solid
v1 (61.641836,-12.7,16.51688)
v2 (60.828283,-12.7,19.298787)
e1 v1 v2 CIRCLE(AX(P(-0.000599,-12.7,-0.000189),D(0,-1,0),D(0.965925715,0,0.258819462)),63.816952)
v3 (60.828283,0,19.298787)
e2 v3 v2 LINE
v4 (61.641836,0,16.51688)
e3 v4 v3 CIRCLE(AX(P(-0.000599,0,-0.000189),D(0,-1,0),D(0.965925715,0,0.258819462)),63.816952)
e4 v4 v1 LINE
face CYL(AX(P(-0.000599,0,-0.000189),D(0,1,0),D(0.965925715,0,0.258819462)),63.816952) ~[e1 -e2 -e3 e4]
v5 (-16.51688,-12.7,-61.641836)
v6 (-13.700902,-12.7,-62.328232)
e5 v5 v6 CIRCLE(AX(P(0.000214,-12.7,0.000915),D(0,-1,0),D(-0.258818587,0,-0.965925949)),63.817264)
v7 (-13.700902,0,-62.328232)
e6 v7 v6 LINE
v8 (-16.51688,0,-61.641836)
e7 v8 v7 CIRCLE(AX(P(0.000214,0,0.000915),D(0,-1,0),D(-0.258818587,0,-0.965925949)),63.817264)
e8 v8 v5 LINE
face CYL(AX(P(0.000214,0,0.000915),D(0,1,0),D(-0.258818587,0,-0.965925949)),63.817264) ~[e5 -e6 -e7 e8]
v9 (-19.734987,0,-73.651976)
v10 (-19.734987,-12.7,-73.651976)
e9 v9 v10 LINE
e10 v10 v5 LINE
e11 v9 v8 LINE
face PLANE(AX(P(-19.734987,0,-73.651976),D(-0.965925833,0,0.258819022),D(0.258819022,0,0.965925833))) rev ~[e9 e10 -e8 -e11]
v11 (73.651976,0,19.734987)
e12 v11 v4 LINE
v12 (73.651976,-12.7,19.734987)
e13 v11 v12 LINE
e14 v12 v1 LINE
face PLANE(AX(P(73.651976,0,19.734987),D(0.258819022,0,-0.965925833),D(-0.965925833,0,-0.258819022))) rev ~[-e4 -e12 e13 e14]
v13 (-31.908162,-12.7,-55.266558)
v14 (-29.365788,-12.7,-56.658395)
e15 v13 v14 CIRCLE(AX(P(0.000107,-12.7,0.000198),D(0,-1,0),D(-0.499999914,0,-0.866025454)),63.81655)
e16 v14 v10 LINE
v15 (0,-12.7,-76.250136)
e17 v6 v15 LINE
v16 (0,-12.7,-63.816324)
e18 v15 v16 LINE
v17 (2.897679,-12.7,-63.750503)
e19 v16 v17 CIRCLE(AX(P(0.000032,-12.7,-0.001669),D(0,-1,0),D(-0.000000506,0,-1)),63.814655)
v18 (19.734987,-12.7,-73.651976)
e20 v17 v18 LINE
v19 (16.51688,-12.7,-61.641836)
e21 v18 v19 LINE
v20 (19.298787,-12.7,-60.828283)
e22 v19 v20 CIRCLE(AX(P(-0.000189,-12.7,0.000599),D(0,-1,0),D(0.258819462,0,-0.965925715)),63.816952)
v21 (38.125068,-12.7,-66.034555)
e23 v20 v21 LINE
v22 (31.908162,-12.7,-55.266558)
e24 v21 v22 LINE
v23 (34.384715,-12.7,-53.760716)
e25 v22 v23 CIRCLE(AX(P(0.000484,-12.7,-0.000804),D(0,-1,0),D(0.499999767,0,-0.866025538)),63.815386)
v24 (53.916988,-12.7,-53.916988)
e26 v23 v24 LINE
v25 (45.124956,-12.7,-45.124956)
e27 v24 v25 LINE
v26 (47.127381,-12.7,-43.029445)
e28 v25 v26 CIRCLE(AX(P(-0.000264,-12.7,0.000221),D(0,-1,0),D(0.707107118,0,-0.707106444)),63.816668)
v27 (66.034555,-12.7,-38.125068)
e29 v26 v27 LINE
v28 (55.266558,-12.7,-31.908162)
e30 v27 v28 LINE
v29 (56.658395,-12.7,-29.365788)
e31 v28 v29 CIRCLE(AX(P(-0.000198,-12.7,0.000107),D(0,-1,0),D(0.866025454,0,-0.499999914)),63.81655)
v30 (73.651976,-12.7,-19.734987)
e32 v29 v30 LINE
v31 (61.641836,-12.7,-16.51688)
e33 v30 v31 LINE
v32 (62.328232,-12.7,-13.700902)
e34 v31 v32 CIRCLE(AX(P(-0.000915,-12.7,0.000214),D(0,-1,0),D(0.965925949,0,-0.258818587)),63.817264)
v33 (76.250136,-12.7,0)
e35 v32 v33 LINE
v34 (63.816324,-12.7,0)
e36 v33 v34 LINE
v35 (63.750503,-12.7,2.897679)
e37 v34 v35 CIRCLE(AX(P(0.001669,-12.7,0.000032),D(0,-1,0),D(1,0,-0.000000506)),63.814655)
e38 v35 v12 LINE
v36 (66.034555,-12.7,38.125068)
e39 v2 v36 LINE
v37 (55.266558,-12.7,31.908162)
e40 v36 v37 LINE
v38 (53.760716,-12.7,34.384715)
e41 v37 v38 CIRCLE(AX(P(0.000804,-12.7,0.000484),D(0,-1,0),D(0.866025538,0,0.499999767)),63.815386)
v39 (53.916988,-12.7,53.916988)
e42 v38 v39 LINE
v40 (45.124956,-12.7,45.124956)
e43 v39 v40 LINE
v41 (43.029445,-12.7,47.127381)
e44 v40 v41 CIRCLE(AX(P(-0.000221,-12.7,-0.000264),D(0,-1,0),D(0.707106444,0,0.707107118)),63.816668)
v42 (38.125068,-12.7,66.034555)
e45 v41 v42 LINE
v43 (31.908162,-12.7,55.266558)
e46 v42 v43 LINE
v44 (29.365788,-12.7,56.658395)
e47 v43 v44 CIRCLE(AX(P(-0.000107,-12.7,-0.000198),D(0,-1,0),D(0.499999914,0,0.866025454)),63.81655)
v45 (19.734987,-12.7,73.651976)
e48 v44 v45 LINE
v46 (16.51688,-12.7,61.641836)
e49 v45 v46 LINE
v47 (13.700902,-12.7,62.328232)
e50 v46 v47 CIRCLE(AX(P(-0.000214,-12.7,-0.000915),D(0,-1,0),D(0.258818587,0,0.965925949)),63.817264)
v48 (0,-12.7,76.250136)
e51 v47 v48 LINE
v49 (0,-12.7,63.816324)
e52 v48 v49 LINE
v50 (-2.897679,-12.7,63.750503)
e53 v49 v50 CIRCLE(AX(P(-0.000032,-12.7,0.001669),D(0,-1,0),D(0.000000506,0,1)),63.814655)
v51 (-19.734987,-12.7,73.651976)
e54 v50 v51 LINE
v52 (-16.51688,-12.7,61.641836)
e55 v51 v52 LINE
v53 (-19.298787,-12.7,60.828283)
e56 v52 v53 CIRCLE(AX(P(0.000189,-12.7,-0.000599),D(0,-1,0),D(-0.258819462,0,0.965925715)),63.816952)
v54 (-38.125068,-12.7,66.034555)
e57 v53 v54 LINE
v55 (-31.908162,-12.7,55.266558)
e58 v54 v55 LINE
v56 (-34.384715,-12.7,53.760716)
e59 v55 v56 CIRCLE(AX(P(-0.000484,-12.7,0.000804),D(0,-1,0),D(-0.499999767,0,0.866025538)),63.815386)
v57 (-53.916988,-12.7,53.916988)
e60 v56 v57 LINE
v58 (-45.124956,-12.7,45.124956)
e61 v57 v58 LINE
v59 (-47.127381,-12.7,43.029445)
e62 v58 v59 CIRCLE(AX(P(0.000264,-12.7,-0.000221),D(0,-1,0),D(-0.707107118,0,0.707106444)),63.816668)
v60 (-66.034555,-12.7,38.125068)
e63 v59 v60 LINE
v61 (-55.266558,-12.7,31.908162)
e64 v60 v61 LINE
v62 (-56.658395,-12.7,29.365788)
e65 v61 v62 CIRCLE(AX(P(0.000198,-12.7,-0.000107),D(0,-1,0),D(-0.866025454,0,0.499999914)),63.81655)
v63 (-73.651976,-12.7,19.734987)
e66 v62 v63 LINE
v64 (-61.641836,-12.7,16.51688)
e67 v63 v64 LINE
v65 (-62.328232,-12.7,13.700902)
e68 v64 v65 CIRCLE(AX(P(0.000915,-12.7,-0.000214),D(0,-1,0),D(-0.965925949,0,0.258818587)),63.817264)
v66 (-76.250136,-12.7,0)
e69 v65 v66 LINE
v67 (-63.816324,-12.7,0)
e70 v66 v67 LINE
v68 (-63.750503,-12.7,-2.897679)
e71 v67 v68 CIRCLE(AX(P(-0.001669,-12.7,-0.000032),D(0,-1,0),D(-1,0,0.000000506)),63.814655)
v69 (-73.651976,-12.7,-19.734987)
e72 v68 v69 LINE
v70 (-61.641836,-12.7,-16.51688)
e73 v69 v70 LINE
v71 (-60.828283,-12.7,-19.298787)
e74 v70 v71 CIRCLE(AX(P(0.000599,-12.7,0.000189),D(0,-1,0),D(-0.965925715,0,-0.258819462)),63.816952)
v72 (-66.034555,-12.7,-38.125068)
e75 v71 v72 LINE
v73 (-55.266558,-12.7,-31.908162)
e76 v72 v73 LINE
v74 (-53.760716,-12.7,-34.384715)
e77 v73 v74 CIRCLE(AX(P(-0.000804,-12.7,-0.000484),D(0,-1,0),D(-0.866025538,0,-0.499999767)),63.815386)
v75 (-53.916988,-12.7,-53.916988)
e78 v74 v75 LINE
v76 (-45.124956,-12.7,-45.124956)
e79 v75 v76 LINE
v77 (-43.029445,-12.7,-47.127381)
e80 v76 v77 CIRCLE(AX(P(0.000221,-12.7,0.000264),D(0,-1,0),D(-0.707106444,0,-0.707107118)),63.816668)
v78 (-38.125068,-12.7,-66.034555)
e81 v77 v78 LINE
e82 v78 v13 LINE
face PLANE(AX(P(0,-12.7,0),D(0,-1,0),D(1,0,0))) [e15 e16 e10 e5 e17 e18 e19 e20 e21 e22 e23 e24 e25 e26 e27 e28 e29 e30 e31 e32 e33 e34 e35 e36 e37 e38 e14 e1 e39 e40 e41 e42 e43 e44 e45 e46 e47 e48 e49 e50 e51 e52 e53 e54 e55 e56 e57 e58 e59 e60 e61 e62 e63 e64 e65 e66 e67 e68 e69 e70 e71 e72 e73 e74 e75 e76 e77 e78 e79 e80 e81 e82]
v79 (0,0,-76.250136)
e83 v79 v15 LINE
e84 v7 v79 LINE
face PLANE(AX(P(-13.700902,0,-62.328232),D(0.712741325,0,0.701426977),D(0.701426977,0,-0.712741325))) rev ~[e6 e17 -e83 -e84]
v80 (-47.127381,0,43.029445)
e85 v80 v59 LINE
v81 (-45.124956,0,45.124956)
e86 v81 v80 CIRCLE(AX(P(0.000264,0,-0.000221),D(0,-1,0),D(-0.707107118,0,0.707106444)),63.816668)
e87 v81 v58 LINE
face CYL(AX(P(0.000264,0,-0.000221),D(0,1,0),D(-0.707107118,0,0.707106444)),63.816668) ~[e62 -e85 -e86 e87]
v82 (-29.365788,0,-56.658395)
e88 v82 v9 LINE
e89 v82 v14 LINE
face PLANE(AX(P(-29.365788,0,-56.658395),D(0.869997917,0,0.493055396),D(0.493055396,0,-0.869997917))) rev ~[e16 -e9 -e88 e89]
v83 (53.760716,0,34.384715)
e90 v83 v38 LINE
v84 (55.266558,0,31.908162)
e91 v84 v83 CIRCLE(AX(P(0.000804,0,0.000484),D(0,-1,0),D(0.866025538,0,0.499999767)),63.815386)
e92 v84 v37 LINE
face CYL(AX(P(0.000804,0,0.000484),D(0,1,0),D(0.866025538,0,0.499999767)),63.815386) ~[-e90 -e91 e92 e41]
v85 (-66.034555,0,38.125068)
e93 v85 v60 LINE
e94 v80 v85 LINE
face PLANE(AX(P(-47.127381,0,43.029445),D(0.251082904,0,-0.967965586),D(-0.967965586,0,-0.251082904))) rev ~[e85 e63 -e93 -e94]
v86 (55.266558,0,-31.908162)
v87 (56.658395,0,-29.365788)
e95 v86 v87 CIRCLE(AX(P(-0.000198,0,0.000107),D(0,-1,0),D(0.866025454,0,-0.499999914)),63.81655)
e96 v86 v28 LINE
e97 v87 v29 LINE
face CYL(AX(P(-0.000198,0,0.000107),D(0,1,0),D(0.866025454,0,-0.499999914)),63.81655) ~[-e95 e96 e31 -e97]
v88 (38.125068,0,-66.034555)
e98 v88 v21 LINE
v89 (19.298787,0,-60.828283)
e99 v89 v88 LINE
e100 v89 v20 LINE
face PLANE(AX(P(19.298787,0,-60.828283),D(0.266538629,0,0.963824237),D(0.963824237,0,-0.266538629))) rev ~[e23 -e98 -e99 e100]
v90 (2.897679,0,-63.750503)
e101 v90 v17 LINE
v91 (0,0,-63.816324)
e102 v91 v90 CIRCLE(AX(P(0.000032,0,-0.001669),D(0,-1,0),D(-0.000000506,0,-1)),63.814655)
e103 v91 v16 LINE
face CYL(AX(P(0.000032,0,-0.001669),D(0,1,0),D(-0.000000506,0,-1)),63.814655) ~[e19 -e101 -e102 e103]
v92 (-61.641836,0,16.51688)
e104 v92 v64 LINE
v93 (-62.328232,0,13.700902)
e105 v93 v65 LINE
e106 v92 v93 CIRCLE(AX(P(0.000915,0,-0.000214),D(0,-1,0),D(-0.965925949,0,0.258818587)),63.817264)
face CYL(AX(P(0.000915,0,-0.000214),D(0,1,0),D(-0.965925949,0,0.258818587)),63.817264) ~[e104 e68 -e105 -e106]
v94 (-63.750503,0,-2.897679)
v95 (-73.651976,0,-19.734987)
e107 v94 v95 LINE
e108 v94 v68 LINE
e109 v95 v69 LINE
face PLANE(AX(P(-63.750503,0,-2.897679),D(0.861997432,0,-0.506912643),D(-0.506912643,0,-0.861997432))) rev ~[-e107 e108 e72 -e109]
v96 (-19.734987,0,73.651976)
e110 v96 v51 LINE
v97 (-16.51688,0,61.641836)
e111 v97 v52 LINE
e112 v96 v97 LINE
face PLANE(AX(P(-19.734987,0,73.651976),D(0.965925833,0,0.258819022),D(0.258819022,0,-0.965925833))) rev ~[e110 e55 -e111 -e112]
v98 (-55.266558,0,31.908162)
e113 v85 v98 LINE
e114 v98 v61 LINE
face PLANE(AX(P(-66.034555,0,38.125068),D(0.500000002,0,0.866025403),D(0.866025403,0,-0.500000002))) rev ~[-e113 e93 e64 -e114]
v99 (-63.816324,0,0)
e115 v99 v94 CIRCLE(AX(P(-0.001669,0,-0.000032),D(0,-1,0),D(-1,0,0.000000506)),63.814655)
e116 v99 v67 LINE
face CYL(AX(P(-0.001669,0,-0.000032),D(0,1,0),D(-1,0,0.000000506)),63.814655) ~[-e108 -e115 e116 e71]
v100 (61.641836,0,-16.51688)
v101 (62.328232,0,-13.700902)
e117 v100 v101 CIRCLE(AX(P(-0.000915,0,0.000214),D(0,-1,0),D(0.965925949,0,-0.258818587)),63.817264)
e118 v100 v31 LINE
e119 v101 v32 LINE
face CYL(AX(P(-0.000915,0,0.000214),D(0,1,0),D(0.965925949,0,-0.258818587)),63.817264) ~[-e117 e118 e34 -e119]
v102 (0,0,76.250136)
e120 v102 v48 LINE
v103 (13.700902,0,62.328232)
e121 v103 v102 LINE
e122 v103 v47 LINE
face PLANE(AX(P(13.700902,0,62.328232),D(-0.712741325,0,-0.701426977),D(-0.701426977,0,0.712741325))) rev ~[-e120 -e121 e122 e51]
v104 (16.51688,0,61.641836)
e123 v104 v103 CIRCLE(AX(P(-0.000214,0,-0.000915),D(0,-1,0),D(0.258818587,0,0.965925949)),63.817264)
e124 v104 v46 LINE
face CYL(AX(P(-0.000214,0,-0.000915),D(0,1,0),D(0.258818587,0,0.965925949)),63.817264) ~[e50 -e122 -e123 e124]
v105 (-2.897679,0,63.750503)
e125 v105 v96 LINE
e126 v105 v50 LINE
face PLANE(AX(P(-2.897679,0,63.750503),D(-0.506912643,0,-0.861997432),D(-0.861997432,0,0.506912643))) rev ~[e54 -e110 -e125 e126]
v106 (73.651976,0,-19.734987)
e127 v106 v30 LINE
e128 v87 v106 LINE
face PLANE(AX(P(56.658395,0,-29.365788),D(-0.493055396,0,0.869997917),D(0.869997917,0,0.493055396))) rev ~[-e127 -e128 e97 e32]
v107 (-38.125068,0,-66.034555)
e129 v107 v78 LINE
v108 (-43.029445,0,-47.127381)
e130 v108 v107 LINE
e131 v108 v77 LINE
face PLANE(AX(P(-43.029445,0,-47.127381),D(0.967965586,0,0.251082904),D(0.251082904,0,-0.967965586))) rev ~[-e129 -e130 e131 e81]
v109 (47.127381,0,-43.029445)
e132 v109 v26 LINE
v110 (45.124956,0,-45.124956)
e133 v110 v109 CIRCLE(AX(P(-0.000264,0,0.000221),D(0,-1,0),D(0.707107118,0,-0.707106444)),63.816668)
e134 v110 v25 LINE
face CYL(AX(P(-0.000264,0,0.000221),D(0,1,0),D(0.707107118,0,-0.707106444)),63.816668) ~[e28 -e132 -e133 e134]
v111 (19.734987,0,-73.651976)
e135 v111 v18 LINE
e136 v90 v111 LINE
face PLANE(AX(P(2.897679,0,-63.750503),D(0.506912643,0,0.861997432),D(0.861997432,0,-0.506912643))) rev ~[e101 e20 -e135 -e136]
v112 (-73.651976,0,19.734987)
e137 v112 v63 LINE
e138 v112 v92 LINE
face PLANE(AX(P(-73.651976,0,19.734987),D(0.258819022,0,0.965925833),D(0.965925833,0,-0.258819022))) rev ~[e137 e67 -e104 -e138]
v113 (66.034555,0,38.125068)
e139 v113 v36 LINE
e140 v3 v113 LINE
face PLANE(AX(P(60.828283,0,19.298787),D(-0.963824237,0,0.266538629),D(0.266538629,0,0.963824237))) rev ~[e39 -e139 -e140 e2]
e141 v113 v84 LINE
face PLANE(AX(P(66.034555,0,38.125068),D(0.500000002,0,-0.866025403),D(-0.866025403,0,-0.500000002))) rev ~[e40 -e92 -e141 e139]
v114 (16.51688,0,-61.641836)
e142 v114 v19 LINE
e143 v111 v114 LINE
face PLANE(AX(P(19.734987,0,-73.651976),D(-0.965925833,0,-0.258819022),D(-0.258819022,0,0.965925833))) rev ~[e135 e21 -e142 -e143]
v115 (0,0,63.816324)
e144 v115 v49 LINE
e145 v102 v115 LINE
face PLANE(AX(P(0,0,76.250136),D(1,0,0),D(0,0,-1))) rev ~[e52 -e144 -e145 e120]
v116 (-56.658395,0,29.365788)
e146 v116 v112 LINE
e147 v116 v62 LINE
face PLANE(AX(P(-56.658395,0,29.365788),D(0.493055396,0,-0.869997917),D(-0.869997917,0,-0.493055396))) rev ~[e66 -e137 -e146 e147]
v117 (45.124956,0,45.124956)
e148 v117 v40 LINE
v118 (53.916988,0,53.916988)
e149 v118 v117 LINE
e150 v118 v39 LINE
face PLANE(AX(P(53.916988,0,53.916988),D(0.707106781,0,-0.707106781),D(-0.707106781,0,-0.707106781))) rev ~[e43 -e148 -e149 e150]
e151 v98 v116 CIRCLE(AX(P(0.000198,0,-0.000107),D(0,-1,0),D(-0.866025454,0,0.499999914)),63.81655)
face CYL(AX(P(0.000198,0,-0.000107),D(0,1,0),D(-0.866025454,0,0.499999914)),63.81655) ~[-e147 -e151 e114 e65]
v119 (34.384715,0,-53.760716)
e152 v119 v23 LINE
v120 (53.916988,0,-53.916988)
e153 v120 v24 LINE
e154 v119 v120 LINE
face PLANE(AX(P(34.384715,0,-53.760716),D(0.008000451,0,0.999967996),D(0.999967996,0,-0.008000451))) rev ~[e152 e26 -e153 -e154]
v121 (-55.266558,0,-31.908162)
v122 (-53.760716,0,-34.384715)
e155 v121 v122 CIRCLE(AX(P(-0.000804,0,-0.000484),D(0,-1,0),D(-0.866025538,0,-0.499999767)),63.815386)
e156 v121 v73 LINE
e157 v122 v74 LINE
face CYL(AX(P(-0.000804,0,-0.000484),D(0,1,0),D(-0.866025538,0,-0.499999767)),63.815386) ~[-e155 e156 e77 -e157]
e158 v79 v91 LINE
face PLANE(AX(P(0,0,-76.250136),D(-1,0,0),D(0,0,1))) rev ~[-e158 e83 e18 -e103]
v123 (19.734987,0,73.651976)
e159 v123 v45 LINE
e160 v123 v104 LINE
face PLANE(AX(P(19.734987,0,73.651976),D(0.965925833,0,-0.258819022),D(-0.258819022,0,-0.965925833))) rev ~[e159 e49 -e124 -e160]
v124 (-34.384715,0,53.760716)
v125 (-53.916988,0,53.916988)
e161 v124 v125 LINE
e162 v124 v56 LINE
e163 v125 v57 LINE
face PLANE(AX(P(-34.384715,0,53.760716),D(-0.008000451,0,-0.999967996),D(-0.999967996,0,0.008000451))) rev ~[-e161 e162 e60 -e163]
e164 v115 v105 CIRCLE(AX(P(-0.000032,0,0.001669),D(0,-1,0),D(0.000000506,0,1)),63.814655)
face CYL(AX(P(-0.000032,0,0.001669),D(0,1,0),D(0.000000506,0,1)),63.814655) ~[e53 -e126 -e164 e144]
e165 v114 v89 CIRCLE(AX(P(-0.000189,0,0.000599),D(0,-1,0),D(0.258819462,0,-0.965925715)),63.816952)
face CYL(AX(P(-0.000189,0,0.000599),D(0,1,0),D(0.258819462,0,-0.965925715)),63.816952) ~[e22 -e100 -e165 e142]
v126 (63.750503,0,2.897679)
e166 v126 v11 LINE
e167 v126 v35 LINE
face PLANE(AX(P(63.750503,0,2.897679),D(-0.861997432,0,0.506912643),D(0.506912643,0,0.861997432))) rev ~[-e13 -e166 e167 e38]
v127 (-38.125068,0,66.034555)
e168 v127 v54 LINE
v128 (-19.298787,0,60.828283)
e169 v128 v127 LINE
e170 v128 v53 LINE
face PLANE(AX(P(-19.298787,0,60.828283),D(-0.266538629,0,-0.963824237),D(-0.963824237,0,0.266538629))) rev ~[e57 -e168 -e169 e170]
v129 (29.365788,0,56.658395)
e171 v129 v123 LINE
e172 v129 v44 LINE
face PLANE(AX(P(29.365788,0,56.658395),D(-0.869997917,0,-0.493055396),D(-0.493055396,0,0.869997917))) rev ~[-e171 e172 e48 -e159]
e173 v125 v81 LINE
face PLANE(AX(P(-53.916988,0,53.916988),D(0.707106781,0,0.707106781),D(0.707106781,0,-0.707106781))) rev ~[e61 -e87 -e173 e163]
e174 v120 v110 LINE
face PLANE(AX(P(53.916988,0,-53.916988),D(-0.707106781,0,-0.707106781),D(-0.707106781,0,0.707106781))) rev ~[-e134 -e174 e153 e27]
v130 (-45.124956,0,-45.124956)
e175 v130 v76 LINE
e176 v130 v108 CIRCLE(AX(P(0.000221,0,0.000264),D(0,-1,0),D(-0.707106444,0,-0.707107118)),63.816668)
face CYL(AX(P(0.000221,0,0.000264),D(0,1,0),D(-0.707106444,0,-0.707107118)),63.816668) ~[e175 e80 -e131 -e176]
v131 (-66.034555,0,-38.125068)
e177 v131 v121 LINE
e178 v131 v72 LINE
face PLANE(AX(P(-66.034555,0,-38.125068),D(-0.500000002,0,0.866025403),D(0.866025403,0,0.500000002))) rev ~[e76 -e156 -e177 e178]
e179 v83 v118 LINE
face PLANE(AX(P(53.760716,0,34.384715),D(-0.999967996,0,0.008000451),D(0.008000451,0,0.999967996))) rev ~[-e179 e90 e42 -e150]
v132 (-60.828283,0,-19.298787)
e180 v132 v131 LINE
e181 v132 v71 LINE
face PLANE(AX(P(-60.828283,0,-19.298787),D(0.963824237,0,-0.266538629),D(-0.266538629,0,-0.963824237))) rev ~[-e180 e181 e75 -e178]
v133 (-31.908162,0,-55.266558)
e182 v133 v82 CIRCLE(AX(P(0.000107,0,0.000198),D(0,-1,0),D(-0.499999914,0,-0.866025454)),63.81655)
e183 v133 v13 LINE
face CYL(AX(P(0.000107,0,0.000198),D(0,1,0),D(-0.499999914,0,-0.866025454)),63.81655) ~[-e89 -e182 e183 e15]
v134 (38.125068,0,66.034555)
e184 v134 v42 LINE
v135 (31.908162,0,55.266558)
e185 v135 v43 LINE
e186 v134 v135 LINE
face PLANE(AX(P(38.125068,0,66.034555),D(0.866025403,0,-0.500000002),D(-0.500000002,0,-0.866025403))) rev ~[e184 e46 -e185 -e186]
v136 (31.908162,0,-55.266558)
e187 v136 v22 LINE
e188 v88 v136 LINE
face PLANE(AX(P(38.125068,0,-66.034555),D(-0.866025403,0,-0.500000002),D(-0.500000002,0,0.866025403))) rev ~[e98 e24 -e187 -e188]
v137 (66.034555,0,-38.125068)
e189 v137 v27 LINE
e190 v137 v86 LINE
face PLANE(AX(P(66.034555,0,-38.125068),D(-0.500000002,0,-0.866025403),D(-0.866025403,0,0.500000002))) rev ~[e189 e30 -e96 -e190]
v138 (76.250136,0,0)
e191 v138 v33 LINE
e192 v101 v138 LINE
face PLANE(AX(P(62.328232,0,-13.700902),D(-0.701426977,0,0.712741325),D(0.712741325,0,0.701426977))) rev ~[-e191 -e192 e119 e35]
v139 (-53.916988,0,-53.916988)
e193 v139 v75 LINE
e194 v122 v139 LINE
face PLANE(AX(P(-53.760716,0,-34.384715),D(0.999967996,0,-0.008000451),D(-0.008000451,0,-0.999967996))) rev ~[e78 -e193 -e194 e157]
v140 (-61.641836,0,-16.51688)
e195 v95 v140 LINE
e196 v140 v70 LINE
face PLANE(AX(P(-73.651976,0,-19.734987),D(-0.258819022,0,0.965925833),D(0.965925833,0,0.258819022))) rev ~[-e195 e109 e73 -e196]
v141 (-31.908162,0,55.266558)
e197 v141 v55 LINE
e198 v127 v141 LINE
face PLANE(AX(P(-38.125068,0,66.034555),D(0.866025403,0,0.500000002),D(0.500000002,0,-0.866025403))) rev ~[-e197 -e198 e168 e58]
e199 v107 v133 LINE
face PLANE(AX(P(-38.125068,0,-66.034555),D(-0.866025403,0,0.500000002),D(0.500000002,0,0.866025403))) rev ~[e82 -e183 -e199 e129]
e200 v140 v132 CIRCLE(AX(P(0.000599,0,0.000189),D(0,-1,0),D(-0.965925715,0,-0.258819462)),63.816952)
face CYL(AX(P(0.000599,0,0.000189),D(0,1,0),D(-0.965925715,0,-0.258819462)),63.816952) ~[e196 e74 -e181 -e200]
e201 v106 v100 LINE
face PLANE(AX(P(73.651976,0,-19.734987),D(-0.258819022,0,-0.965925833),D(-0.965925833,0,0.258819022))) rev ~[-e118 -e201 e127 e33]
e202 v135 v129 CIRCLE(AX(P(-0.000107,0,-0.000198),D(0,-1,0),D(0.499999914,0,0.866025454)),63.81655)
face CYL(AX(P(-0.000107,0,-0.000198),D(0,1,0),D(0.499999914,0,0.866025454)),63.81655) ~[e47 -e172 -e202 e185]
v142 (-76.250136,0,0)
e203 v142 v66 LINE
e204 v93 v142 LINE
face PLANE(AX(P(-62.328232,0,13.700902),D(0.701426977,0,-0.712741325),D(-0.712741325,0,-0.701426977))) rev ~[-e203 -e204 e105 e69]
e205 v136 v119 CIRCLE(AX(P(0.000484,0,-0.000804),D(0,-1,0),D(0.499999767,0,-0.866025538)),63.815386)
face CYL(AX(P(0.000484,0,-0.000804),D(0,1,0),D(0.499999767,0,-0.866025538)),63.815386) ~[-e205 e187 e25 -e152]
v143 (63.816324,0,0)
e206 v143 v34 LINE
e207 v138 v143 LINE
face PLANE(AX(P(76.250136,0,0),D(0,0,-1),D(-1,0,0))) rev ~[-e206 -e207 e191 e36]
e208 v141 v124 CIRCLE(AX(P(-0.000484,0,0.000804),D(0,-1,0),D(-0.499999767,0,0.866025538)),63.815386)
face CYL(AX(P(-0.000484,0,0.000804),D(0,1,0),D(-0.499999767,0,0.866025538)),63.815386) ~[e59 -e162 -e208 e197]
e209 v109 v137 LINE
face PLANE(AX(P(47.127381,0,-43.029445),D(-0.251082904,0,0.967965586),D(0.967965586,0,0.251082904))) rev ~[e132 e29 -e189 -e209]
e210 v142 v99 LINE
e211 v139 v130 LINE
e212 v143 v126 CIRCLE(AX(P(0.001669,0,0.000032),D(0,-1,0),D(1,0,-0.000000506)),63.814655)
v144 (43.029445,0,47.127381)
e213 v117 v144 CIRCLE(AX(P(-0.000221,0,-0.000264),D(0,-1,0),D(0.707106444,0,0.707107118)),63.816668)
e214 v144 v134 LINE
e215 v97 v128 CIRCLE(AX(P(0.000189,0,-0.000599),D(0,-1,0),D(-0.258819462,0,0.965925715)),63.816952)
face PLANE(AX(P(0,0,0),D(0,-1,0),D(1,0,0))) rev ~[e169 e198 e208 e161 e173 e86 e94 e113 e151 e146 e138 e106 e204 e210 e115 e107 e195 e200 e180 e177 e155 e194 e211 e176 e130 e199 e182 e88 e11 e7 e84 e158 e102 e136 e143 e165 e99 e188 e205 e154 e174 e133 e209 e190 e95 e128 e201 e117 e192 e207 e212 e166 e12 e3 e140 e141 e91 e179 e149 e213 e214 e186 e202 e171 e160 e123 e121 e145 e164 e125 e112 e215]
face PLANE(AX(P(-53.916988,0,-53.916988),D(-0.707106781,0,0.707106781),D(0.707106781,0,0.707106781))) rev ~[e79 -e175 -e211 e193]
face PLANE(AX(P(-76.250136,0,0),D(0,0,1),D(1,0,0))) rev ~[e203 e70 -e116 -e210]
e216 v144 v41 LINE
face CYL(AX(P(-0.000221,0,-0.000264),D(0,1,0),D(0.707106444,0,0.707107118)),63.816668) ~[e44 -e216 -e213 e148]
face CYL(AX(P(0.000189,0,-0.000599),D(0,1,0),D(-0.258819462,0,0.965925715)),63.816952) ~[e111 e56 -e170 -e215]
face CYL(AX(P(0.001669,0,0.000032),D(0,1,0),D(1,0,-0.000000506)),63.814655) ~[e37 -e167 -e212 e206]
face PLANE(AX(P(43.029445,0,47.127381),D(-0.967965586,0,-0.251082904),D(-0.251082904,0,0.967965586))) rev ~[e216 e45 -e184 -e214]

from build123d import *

# Parameters (mm, degrees)
F1_DEPTH = 12.7


with BuildPart() as f1:
    # F0 (on Front) → F1 (new body)
    with BuildSketch(Plane.XZ):
        with BuildLine():
            ThreePointArc((13.700902, 62.328232), (6.890739, 63.44321), (0, 63.816324))
            ThreePointArc((0, 63.816324), (-1.449213, 63.799867), (-2.897679, 63.750503))
            ThreePointArc((-2.897679, 63.750503), (-9.764368, 63.06489), (-16.51688, 61.641836))
            ThreePointArc((-16.51688, 61.641836), (-17.912453, 61.250855), (-19.298787, 60.828283))
            ThreePointArc((-19.298787, 60.828283), (-25.75405, 58.388801), (-31.908162, 55.266558))
            ThreePointArc((-31.908162, 55.266558), (-33.154989, 54.527699), (-34.384715, 53.760716))
            ThreePointArc((-34.384715, 53.760716), (-39.988636, 49.733612), (-45.124956, 45.124956))
            ThreePointArc((-45.124956, 45.124956), (-46.138067, 44.08857), (-47.127381, 43.029445))
            ThreePointArc((-47.127381, 43.029445), (-51.498062, 37.68916), (-55.266558, 31.908162))
            ThreePointArc((-55.266558, 31.908162), (-55.976912, 30.644878), (-56.658395, 29.365788))
            ThreePointArc((-56.658395, 29.365788), (-59.497981, 23.076254), (-61.641836, 16.51688))
            ThreePointArc((-61.641836, 16.51688), (-62.001023, 15.112788), (-62.328232, 13.700902))
            ThreePointArc((-62.328232, 13.700902), (-63.44321, 6.890739), (-63.816324, 0))
            ThreePointArc((-63.816324, 0), (-63.799867, -1.449213), (-63.750503, -2.897679))
            ThreePointArc((-63.750503, -2.897679), (-63.06489, -9.764368), (-61.641836, -16.51688))
            ThreePointArc((-61.641836, -16.51688), (-61.250855, -17.912453), (-60.828283, -19.298787))
            ThreePointArc((-60.828283, -19.298787), (-58.388801, -25.75405), (-55.266558, -31.908162))
            ThreePointArc((-55.266558, -31.908162), (-54.527699, -33.154989), (-53.760716, -34.384715))
            ThreePointArc((-53.760716, -34.384715), (-49.733612, -39.988636), (-45.124956, -45.124956))
            ThreePointArc((-45.124956, -45.124956), (-44.08857, -46.138067), (-43.029445, -47.127381))
            ThreePointArc((-43.029445, -47.127381), (-37.68916, -51.498062), (-31.908162, -55.266558))
            ThreePointArc((-31.908162, -55.266558), (-30.644878, -55.976912), (-29.365788, -56.658395))
            ThreePointArc((-29.365788, -56.658395), (-23.076254, -59.497981), (-16.51688, -61.641836))
            ThreePointArc((-16.51688, -61.641836), (-15.112788, -62.001023), (-13.700902, -62.328232))
            ThreePointArc((-13.700902, -62.328232), (-6.890739, -63.44321), (0, -63.816324))
            ThreePointArc((0, -63.816324), (1.449213, -63.799867), (2.897679, -63.750503))
            ThreePointArc((2.897679, -63.750503), (9.764368, -63.06489), (16.51688, -61.641836))
            ThreePointArc((16.51688, -61.641836), (17.912453, -61.250855), (19.298787, -60.828283))
            ThreePointArc((19.298787, -60.828283), (25.75405, -58.388801), (31.908162, -55.266558))
            ThreePointArc((31.908162, -55.266558), (33.154989, -54.527699), (34.384715, -53.760716))
            ThreePointArc((34.384715, -53.760716), (39.988636, -49.733612), (45.124956, -45.124956))
            ThreePointArc((45.124956, -45.124956), (46.138067, -44.08857), (47.127381, -43.029445))
            ThreePointArc((47.127381, -43.029445), (51.498062, -37.68916), (55.266558, -31.908162))
            ThreePointArc((55.266558, -31.908162), (55.976912, -30.644878), (56.658395, -29.365788))
            ThreePointArc((56.658395, -29.365788), (59.497981, -23.076254), (61.641836, -16.51688))
            ThreePointArc((61.641836, -16.51688), (62.001023, -15.112788), (62.328232, -13.700902))
            ThreePointArc((62.328232, -13.700902), (63.44321, -6.890739), (63.816324, 0))
            ThreePointArc((63.816324, 0), (63.799867, 1.449213), (63.750503, 2.897679))
            ThreePointArc((63.750503, 2.897679), (63.06489, 9.764368), (61.641836, 16.51688))
            ThreePointArc((61.641836, 16.51688), (61.250855, 17.912453), (60.828283, 19.298787))
            ThreePointArc((60.828283, 19.298787), (58.388801, 25.75405), (55.266558, 31.908162))
            ThreePointArc((55.266558, 31.908162), (54.527699, 33.154989), (53.760716, 34.384715))
            ThreePointArc((53.760716, 34.384715), (49.733612, 39.988636), (45.124956, 45.124956))
            ThreePointArc((45.124956, 45.124956), (44.08857, 46.138067), (43.029445, 47.127381))
            ThreePointArc((43.029445, 47.127381), (37.68916, 51.498062), (31.908162, 55.266558))
            ThreePointArc((31.908162, 55.266558), (30.644878, 55.976912), (29.365788, 56.658395))
            ThreePointArc((29.365788, 56.658395), (23.076254, 59.497981), (16.51688, 61.641836))
            ThreePointArc((16.51688, 61.641836), (15.112788, 62.001023), (13.700902, 62.328232))
        make_face()
        with BuildLine():
            ThreePointArc((-45.124956, 45.124956), (-39.988636, 49.733612), (-34.384715, 53.760716))
            Line((-34.384715, 53.760716), (-53.916988, 53.916988))
            Line((-53.916988, 53.916988), (-45.124956, 45.124956))
        make_face()
        with BuildLine():
            ThreePointArc((-31.908162, 55.266558), (-25.75405, 58.388801), (-19.298787, 60.828283))
            Line((-19.298787, 60.828283), (-38.125068, 66.034555))
            Line((-38.125068, 66.034555), (-31.908162, 55.266558))
        make_face()
        with BuildLine():
            ThreePointArc((-16.51688, 61.641836), (-9.764368, 63.06489), (-2.897679, 63.750503))
            Line((-2.897679, 63.750503), (-19.734987, 73.651976))
            Line((-19.734987, 73.651976), (-16.51688, 61.641836))
        make_face()
        with BuildLine():
            Line((0, 76.250136), (0, 63.816324))
            ThreePointArc((0, 63.816324), (6.890739, 63.44321), (13.700902, 62.328232))
            Line((13.700902, 62.328232), (0, 76.250136))
        make_face()
        with BuildLine():
            Line((19.734987, 73.651976), (16.51688, 61.641836))
            ThreePointArc((16.51688, 61.641836), (23.076254, 59.497981), (29.365788, 56.658395))
            Line((29.365788, 56.658395), (19.734987, 73.651976))
        make_face()
        with BuildLine():
            Line((38.125068, 66.034555), (31.908162, 55.266558))
            ThreePointArc((31.908162, 55.266558), (37.68916, 51.498062), (43.029445, 47.127381))
            Line((43.029445, 47.127381), (38.125068, 66.034555))
        make_face()
        with BuildLine():
            Line((53.916988, 53.916988), (45.124956, 45.124956))
            ThreePointArc((45.124956, 45.124956), (49.733612, 39.988636), (53.760716, 34.384715))
            Line((53.760716, 34.384715), (53.916988, 53.916988))
        make_face()
        with BuildLine():
            Line((66.034555, 38.125068), (55.266558, 31.908162))
            ThreePointArc((55.266558, 31.908162), (58.388801, 25.75405), (60.828283, 19.298787))
            Line((60.828283, 19.298787), (66.034555, 38.125068))
        make_face()
        with BuildLine():
            Line((73.651976, 19.734987), (61.641836, 16.51688))
            ThreePointArc((61.641836, 16.51688), (63.06489, 9.764368), (63.750503, 2.897679))
            Line((63.750503, 2.897679), (73.651976, 19.734987))
        make_face()
        with BuildLine():
            Line((76.250136, 0), (63.816324, 0))
            ThreePointArc((63.816324, 0), (63.44321, -6.890739), (62.328232, -13.700902))
            Line((62.328232, -13.700902), (76.250136, 0))
        make_face()
        with BuildLine():
            Line((73.651976, -19.734987), (61.641836, -16.51688))
            ThreePointArc((61.641836, -16.51688), (59.497981, -23.076254), (56.658395, -29.365788))
            Line((56.658395, -29.365788), (73.651976, -19.734987))
        make_face()
        with BuildLine():
            Line((66.034555, -38.125068), (55.266558, -31.908162))
            ThreePointArc((55.266558, -31.908162), (51.498062, -37.68916), (47.127381, -43.029445))
            Line((47.127381, -43.029445), (66.034555, -38.125068))
        make_face()
        with BuildLine():
            Line((53.916988, -53.916988), (45.124956, -45.124956))
            ThreePointArc((45.124956, -45.124956), (39.988636, -49.733612), (34.384715, -53.760716))
            Line((34.384715, -53.760716), (53.916988, -53.916988))
        make_face()
        with BuildLine():
            Line((38.125068, -66.034555), (31.908162, -55.266558))
            ThreePointArc((31.908162, -55.266558), (25.75405, -58.388801), (19.298787, -60.828283))
            Line((19.298787, -60.828283), (38.125068, -66.034555))
        make_face()
        with BuildLine():
            Line((19.734987, -73.651976), (16.51688, -61.641836))
            ThreePointArc((16.51688, -61.641836), (9.764368, -63.06489), (2.897679, -63.750503))
            Line((2.897679, -63.750503), (19.734987, -73.651976))
        make_face()
        with BuildLine():
            ThreePointArc((0, -63.816324), (-6.890739, -63.44321), (-13.700902, -62.328232))
            Line((-13.700902, -62.328232), (0, -76.250136))
            Line((0, -76.250136), (0, -63.816324))
        make_face()
        with BuildLine():
            ThreePointArc((-16.51688, -61.641836), (-23.076254, -59.497981), (-29.365788, -56.658395))
            Line((-29.365788, -56.658395), (-19.734987, -73.651976))
            Line((-19.734987, -73.651976), (-16.51688, -61.641836))
        make_face()
        with BuildLine():
            ThreePointArc((-31.908162, -55.266558), (-37.68916, -51.498062), (-43.029445, -47.127381))
            Line((-43.029445, -47.127381), (-38.125068, -66.034555))
            Line((-38.125068, -66.034555), (-31.908162, -55.266558))
        make_face()
        with BuildLine():
            ThreePointArc((-55.266558, -31.908162), (-58.388801, -25.75405), (-60.828283, -19.298787))
            Line((-60.828283, -19.298787), (-66.034555, -38.125068))
            Line((-66.034555, -38.125068), (-55.266558, -31.908162))
        make_face()
        with BuildLine():
            ThreePointArc((-61.641836, -16.51688), (-63.06489, -9.764368), (-63.750503, -2.897679))
            Line((-63.750503, -2.897679), (-73.651976, -19.734987))
            Line((-73.651976, -19.734987), (-61.641836, -16.51688))
        make_face()
        with BuildLine():
            ThreePointArc((-63.816324, 0), (-63.44321, 6.890739), (-62.328232, 13.700902))
            Line((-62.328232, 13.700902), (-76.250136, 0))
            Line((-76.250136, 0), (-63.816324, 0))
        make_face()
        with BuildLine():
            ThreePointArc((-61.641836, 16.51688), (-59.497981, 23.076254), (-56.658395, 29.365788))
            Line((-56.658395, 29.365788), (-73.651976, 19.734987))
            Line((-73.651976, 19.734987), (-61.641836, 16.51688))
        make_face()
        with BuildLine():
            ThreePointArc((-55.266558, 31.908162), (-51.498062, 37.68916), (-47.127381, 43.029445))
            Line((-47.127381, 43.029445), (-66.034555, 38.125068))
            Line((-66.034555, 38.125068), (-55.266558, 31.908162))
        make_face()
        with BuildLine():
            ThreePointArc((-45.124956, -45.124956), (-49.733612, -39.988636), (-53.760716, -34.384715))
            Line((-53.760716, -34.384715), (-53.916988, -53.916988))
            Line((-53.916988, -53.916988), (-45.124956, -45.124956))
        make_face()
    extrude(amount=F1_DEPTH)


solid = f1.part
